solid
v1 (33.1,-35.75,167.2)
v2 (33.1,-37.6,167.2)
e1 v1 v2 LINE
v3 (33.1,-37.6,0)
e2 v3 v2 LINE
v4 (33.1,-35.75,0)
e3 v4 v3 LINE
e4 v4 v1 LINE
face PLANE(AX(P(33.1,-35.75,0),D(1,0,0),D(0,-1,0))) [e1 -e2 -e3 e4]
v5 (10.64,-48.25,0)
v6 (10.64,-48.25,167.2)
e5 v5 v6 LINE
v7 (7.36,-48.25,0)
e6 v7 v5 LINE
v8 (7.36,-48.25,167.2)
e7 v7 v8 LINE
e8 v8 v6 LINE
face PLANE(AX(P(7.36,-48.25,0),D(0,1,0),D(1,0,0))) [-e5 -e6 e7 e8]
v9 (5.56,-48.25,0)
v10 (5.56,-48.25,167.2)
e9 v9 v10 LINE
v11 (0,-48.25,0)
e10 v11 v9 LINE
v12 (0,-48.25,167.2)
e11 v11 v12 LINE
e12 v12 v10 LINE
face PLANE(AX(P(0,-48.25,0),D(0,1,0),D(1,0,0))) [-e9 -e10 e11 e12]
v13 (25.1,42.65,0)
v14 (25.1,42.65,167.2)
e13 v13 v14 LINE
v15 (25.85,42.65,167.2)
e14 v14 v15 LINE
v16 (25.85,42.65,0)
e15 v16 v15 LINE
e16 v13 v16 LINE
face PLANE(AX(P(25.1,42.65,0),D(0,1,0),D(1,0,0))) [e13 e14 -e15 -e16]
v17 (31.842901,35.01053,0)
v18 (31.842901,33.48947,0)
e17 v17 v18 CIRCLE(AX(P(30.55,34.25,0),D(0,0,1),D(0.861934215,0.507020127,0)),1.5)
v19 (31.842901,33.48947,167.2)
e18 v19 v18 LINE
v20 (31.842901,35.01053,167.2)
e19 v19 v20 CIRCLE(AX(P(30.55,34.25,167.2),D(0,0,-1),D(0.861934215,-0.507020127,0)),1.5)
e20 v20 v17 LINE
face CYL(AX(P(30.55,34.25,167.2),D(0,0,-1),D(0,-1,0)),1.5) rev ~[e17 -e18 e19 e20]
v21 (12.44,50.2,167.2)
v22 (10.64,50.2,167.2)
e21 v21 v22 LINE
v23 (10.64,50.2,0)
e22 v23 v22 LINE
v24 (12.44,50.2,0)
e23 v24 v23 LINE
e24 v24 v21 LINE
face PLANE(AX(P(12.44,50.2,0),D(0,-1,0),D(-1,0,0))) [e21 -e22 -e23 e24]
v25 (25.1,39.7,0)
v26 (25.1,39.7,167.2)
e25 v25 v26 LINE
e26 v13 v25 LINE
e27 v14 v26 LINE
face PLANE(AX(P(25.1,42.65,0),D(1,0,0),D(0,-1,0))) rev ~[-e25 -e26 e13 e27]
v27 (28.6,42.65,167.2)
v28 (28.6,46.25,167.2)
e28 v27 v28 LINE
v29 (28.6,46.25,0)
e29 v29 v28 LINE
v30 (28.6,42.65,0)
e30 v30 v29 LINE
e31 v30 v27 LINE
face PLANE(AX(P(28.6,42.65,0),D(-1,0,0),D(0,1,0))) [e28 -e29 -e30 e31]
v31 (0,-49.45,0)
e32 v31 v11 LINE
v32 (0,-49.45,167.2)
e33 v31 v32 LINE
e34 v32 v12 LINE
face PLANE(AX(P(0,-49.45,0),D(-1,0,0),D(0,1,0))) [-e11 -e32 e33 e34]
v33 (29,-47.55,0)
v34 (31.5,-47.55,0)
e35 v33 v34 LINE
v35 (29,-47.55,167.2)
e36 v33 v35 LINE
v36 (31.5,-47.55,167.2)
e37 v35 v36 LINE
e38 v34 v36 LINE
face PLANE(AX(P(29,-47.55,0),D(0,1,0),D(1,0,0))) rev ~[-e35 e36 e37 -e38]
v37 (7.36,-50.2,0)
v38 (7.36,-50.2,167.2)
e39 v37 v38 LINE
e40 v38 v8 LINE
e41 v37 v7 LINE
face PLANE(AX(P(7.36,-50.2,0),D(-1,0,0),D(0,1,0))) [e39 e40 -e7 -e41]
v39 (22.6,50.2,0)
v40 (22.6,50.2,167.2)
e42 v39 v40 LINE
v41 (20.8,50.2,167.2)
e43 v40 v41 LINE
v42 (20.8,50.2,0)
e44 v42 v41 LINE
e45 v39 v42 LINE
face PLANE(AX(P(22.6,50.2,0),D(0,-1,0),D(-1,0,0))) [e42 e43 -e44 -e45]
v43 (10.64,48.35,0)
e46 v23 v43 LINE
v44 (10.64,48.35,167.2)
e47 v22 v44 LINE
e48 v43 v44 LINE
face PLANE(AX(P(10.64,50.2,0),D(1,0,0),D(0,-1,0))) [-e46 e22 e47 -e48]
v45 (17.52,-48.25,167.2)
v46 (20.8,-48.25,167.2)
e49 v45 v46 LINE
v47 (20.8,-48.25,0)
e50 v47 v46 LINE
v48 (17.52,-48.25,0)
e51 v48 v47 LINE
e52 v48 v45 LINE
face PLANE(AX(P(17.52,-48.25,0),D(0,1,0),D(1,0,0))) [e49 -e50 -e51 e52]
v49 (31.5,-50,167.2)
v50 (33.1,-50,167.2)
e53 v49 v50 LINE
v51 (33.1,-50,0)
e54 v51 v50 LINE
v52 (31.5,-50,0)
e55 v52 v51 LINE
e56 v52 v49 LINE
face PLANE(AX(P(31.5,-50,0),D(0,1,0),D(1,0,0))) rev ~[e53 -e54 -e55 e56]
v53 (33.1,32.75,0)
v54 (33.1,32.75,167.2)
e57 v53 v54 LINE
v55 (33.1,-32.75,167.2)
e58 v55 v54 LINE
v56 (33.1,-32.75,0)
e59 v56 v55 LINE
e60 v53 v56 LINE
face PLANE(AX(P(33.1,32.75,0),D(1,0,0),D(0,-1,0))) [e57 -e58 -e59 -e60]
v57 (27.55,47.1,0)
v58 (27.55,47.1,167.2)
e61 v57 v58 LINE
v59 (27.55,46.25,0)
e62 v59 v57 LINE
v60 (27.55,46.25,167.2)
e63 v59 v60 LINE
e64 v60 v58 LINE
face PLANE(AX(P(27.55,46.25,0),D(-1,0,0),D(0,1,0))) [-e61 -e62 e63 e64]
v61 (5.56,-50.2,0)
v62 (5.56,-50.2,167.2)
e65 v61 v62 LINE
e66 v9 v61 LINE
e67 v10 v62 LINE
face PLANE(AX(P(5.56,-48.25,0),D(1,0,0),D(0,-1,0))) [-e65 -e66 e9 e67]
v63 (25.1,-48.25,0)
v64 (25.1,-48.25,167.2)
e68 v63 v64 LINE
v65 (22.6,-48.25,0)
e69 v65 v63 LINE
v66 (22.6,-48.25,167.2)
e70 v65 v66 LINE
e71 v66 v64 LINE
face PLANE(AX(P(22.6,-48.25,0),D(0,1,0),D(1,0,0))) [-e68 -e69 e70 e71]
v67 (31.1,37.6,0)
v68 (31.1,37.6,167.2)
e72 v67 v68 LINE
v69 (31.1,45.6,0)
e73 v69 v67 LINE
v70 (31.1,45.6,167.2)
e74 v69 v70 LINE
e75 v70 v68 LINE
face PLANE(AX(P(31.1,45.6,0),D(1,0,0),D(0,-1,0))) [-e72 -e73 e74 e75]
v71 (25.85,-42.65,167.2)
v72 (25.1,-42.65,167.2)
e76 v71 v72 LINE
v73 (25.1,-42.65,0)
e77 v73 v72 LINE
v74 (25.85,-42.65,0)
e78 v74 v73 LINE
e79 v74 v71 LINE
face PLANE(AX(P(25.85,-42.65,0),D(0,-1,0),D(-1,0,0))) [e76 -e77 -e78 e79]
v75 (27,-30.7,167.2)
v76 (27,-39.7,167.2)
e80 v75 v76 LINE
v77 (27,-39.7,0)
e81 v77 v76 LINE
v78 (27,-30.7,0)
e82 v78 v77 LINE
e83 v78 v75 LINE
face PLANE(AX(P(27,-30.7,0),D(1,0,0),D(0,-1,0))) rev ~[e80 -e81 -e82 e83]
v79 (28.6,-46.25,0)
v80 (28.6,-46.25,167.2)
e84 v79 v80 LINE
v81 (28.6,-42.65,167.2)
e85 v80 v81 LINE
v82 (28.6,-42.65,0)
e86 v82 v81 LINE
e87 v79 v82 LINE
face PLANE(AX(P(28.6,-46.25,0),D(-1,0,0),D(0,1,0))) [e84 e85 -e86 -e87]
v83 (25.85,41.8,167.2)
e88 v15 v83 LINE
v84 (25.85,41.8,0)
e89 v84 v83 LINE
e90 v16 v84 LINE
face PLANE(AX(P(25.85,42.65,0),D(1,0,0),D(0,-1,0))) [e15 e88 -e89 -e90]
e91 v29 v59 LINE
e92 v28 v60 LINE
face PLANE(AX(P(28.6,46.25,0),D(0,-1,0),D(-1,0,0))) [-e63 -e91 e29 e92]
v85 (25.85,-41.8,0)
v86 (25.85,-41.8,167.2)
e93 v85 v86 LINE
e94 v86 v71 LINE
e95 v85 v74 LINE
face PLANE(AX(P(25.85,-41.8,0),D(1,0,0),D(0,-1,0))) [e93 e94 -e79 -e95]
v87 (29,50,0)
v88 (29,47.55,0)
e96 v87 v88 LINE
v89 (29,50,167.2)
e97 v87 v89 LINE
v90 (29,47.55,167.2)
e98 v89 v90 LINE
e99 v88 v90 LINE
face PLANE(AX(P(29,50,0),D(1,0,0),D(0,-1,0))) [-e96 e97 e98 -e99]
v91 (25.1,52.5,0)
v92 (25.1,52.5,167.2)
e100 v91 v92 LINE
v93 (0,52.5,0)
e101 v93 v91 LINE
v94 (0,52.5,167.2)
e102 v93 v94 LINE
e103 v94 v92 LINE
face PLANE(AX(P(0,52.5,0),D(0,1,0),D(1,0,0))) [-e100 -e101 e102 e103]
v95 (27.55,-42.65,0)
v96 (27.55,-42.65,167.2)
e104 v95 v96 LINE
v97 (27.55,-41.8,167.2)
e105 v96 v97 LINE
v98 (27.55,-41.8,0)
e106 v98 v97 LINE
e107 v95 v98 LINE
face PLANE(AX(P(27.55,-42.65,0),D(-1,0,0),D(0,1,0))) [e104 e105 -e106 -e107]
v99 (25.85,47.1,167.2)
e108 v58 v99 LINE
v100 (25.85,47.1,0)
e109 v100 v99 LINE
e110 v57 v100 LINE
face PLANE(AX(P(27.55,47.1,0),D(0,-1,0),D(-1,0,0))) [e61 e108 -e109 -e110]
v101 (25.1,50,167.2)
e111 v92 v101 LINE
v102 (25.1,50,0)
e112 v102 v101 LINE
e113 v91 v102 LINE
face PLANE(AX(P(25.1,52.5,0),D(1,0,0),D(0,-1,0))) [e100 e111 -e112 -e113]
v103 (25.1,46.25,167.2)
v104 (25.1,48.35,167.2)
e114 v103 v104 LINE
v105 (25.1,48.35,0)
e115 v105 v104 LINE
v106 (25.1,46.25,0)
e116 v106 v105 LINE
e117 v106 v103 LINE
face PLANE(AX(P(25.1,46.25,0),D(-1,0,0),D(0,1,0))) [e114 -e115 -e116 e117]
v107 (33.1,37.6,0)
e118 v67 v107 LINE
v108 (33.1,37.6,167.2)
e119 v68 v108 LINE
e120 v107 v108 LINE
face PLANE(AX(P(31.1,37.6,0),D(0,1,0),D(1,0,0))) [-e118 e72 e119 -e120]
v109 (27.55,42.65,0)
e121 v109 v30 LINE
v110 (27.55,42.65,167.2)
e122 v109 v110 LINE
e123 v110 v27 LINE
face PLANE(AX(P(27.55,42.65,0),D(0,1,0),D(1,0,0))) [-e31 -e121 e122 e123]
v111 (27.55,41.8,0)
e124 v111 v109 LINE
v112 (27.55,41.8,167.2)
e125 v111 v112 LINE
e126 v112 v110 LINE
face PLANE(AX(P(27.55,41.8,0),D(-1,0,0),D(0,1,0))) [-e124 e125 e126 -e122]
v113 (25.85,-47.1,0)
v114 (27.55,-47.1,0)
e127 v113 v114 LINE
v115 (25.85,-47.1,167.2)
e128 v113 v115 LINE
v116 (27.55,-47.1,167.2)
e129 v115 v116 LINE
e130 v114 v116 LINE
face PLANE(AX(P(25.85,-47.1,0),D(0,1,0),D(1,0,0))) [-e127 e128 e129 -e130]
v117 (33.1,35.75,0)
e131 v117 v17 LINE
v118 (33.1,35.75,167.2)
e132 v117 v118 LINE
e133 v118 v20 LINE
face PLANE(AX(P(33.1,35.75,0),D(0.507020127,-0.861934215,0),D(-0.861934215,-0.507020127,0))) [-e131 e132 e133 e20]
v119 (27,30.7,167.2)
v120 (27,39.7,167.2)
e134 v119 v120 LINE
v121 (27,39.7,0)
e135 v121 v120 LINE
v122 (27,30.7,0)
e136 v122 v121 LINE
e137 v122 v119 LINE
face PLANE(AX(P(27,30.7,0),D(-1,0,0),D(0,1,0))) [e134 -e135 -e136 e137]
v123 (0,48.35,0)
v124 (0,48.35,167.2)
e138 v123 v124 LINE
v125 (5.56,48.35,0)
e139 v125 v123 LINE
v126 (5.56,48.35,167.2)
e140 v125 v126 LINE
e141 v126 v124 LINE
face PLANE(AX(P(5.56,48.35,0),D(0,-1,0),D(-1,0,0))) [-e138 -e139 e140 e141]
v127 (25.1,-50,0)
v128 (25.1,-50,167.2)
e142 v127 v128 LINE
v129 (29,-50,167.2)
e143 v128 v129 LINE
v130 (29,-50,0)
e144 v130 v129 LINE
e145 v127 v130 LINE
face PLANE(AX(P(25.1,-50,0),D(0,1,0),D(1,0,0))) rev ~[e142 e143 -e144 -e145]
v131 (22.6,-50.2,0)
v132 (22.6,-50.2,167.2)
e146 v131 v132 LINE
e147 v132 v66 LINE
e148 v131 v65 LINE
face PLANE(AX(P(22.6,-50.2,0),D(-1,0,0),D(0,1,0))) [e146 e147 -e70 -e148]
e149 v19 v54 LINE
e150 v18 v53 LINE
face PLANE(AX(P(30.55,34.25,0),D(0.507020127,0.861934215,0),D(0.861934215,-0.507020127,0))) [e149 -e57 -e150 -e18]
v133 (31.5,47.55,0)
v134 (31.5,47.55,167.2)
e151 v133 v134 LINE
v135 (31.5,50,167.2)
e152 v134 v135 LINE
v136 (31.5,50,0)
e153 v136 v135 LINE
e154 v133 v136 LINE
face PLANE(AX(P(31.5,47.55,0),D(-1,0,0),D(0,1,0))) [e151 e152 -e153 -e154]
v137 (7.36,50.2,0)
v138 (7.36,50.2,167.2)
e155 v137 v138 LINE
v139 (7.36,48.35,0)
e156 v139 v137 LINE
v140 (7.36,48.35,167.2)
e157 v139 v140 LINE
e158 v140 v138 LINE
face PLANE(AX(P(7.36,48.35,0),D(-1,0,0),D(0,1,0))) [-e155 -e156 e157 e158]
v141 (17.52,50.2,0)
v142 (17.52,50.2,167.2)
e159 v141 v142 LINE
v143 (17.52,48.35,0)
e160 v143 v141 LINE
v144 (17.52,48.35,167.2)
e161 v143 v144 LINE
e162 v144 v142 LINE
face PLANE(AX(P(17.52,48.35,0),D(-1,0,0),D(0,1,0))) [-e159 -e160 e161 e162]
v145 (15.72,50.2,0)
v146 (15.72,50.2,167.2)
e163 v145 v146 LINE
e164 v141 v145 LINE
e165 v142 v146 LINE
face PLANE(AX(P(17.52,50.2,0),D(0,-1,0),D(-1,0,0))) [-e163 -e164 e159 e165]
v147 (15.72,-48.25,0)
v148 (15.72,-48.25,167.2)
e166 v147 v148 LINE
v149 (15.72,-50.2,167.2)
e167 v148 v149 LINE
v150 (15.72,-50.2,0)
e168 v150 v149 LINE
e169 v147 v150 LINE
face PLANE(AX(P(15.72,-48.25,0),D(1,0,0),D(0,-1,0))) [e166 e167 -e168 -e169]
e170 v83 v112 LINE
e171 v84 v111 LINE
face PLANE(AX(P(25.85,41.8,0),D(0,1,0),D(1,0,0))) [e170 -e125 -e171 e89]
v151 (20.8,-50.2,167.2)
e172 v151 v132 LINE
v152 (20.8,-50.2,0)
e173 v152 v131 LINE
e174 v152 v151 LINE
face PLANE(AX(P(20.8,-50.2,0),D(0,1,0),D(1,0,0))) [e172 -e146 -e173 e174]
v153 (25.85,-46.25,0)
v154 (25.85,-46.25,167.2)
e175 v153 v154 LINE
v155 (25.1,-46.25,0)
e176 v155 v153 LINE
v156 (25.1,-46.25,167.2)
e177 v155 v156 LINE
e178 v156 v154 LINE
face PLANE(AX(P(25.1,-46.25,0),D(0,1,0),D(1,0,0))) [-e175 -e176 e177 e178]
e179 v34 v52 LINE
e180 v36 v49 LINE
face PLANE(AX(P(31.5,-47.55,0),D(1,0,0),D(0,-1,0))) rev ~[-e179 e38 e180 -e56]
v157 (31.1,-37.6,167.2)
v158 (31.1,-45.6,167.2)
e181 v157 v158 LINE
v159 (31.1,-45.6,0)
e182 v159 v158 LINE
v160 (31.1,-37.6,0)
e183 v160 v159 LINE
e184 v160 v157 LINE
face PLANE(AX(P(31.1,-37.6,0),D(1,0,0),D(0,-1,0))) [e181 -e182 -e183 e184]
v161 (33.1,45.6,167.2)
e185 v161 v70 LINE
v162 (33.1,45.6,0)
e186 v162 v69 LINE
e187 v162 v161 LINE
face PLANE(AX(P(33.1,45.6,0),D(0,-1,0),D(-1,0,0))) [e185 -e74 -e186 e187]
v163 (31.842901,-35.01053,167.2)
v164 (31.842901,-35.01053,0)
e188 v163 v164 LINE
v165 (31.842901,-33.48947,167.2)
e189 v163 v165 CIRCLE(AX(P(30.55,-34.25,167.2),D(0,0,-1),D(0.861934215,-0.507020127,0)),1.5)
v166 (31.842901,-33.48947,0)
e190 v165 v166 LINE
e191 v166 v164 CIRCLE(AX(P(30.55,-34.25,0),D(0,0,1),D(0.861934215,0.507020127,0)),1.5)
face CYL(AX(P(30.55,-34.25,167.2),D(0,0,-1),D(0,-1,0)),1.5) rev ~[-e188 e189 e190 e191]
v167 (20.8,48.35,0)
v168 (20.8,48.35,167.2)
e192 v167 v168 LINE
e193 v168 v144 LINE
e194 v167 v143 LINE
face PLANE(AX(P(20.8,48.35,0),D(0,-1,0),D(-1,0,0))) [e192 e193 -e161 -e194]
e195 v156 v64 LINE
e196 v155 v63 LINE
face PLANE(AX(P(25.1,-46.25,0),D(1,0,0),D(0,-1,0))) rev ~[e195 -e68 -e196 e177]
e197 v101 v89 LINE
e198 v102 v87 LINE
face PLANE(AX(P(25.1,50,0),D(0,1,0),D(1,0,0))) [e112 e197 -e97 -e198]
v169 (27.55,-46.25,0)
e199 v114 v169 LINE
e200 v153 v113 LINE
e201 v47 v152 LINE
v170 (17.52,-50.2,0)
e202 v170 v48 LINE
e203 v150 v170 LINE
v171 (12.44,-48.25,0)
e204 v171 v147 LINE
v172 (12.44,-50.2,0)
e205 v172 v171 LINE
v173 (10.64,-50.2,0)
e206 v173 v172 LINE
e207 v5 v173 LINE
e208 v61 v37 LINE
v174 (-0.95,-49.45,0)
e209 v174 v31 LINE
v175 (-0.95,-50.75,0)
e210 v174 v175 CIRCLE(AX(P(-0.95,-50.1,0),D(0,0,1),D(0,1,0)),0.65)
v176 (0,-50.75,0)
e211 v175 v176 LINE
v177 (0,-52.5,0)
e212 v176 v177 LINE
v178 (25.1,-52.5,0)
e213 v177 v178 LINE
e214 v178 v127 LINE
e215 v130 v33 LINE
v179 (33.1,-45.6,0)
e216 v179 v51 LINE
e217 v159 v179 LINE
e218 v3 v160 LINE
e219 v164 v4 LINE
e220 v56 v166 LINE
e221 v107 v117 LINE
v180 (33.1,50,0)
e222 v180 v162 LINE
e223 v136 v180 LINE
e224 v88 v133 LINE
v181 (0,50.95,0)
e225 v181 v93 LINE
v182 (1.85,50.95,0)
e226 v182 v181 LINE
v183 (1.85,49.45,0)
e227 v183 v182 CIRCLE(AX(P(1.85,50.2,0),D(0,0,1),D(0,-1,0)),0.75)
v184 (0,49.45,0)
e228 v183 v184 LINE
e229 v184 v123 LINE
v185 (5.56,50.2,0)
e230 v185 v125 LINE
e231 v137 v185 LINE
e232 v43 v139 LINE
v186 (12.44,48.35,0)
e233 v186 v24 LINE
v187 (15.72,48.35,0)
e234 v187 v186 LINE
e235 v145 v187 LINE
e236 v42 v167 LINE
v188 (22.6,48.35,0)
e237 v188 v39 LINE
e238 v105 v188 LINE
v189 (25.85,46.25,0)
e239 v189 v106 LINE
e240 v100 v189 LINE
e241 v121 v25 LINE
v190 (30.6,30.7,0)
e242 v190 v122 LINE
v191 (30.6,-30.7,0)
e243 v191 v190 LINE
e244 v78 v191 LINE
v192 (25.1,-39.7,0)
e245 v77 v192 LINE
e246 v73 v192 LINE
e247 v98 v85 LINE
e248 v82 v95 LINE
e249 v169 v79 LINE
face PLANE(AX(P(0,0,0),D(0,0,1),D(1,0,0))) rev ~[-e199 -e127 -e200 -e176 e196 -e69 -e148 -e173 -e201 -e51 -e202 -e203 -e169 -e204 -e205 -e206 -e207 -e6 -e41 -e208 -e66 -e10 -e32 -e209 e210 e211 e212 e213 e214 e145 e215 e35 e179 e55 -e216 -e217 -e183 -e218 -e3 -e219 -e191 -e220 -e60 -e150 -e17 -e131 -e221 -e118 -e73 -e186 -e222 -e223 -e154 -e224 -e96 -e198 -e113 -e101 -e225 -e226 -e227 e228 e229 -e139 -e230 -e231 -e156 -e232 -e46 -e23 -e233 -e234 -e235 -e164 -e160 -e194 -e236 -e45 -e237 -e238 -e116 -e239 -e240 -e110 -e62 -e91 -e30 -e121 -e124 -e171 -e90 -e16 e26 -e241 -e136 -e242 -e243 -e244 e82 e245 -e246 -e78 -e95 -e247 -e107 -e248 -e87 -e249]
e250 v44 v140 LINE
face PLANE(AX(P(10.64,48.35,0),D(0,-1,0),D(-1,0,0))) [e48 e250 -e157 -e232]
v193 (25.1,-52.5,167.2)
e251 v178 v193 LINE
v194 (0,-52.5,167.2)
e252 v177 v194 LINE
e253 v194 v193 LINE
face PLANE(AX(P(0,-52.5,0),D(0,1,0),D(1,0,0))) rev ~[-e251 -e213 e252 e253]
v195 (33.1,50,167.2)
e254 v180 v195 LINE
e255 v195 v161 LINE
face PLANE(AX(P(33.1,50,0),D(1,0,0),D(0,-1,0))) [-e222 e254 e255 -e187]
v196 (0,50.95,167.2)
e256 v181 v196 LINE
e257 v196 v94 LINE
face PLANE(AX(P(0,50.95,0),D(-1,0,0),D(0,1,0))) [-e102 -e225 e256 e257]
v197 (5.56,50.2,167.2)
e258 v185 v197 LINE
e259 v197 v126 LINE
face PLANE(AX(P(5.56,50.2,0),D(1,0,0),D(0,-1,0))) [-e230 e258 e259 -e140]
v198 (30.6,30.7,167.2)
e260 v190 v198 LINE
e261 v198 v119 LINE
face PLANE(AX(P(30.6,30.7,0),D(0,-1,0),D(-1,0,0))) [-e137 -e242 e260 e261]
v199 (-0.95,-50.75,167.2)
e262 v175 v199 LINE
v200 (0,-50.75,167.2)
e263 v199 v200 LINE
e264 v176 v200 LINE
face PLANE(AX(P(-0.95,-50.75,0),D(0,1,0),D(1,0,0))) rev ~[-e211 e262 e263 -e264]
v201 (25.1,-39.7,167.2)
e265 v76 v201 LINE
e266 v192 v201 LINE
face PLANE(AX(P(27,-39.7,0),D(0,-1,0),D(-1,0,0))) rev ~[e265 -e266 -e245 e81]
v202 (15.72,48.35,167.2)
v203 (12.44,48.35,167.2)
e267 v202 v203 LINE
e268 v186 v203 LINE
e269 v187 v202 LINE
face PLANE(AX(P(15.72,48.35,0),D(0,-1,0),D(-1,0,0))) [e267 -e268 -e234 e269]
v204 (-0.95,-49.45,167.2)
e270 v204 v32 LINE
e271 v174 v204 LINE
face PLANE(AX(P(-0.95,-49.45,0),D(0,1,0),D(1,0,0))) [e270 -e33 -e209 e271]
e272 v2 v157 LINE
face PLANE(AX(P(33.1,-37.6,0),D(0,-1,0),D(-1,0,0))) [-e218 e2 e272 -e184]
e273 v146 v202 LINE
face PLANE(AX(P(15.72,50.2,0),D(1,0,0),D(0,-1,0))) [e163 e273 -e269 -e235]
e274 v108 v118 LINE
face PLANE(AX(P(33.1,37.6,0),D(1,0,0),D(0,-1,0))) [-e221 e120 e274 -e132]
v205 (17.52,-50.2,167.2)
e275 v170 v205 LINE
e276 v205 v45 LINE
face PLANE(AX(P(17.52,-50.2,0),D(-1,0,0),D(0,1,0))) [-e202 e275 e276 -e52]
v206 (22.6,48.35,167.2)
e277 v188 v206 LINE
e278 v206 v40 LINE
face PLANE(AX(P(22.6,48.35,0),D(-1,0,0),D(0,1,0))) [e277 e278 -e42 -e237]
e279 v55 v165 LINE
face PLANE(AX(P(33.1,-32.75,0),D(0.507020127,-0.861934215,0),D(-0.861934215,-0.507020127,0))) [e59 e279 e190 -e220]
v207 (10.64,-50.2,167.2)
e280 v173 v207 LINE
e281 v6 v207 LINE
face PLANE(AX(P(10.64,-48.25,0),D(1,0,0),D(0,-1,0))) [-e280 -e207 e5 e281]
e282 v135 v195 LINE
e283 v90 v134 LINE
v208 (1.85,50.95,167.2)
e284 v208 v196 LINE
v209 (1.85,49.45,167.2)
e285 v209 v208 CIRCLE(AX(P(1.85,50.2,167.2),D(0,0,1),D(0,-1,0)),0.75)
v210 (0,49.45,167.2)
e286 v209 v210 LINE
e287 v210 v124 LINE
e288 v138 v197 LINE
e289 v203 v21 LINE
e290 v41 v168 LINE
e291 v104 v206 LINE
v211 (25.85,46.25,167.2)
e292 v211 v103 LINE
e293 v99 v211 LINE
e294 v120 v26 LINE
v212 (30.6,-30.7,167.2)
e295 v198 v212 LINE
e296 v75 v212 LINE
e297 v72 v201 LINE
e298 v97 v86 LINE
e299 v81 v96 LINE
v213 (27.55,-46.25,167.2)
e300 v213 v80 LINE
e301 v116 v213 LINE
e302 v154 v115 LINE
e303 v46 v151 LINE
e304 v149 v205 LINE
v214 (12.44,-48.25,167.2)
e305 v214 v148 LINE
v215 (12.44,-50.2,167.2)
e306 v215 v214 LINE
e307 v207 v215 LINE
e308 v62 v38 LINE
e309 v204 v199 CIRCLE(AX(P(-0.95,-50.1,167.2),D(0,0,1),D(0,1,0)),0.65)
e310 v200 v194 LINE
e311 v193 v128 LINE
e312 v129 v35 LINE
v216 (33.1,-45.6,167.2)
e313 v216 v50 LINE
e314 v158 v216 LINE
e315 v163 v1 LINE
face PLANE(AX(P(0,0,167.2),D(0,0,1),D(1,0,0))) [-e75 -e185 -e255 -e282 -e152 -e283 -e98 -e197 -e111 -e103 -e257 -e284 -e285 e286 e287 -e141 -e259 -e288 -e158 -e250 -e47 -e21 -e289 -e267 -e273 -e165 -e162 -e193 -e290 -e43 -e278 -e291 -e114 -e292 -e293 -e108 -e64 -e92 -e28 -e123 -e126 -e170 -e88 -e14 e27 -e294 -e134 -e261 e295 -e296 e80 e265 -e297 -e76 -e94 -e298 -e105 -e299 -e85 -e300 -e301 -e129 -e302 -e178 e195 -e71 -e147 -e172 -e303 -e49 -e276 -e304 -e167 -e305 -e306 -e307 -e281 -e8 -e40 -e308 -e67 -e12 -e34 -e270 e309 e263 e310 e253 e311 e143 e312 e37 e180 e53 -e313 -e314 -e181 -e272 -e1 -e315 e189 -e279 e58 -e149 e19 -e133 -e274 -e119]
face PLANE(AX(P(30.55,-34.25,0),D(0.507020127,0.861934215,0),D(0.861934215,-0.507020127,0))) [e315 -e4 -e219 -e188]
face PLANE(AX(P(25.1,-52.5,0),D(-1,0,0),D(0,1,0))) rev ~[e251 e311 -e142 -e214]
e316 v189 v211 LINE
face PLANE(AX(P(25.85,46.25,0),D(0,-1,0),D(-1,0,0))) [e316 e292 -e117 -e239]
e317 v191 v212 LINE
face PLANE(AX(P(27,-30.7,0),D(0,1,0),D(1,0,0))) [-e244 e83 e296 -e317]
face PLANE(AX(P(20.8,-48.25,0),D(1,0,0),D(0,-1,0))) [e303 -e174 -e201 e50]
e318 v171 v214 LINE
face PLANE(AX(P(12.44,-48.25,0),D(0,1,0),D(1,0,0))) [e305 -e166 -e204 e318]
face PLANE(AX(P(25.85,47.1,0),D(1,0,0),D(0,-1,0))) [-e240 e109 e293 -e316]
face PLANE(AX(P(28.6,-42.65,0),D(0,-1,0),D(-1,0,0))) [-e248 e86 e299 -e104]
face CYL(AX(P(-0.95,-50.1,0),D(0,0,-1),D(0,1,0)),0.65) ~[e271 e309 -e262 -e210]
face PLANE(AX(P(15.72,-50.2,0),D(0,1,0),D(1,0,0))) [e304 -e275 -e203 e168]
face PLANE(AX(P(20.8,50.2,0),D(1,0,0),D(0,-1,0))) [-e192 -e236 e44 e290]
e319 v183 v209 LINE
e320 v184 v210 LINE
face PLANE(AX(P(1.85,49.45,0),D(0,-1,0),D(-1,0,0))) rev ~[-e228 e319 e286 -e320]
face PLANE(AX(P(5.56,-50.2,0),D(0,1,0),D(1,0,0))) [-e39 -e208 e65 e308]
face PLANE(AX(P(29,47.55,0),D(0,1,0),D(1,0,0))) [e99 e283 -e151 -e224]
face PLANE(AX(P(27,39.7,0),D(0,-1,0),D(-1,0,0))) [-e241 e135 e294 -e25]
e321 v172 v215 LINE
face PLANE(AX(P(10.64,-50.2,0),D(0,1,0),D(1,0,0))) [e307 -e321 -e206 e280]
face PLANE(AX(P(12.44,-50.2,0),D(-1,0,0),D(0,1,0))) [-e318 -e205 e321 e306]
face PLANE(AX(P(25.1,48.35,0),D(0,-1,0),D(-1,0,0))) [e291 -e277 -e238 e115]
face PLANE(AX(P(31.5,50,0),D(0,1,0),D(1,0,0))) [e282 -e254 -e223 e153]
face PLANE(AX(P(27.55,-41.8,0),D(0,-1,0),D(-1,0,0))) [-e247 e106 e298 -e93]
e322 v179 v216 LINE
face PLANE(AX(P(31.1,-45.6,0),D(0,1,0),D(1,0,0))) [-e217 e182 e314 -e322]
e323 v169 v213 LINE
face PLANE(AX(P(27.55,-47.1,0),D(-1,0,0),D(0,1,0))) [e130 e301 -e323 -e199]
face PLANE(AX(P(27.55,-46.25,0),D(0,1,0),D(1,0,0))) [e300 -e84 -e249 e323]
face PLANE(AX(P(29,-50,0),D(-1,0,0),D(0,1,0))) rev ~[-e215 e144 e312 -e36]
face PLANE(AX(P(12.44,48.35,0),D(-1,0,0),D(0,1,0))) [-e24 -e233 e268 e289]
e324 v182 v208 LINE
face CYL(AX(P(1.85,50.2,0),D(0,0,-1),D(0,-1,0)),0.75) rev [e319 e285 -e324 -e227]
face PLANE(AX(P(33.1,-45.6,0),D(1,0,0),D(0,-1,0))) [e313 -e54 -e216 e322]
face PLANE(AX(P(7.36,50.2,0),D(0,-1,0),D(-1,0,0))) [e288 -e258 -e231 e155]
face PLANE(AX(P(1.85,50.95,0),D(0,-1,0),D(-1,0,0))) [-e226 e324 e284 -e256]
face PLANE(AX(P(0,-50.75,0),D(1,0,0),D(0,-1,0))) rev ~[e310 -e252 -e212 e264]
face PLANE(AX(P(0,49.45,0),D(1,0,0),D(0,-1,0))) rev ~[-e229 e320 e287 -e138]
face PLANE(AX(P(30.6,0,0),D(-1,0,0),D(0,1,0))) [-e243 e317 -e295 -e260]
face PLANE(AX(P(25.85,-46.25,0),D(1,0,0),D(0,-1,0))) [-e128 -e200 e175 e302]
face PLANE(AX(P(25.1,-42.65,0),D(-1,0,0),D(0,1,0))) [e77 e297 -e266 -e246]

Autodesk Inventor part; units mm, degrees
ref_plane "YZ Plane" through (0, 0, 0) normal (1, 0, 0) x (0, 1, 0)
ref_plane "XZ Plane" through (0, 0, 0) normal (0, 1, 0) x (-1, 0, 0)
ref_plane "XY Plane" through (0, 0, 0) normal (0, 0, 1) x (1, 0, 0)
sketch "Sketch1" plane through (0, 0, 0) normal (0, 0, 1) x (1, 0, 0)
  line L0 (0, 52.5) -> (25.1, 52.5)
  line L1 (33.1, 32.75) -> (33.1, -32.75)
  line L2 (0, -48.25) -> (5.56, -48.25)
  line L3 (27, -30.7) -> (30.6, -30.7)
  line L4 (30.6, -30.7) -> (30.6, 30.7)
  line L5 (30.6, 30.7) -> (27, 30.7)
  line L6 (25.1, 48.35) -> (22.6, 48.35)
  arc A0 (-0.95, -49.45) -> (-0.95, -50.75) centre (-0.95, -50.1) ccw
  line L7 (-0.95, -49.45) -> (0, -49.45)
  line L8 (0, -49.45) -> (0, -48.25)
  line L9 (-0.95, -50.75) -> (0, -50.75)
  line L10 (0, -50.75) -> (0, -52.5)
  line L11 (0, -52.5) -> (25.1, -52.5)
  line L12 (25.1, -52.5) -> (25.1, -50)
  line L13 (25.1, -50) -> (29, -50)
  line L14 (29, -50) -> (29, -47.55)
  line L15 (29, -47.55) -> (31.5, -47.55)
  line L16 (31.5, -47.55) -> (31.5, -50)
  line L17 (31.5, -50) -> (33.1, -50)
  line L18 (25.1, 52.5) -> (25.1, 50)
  line L19 (25.1, 50) -> (29, 50)
  line L20 (29, 50) -> (29, 47.55)
  line L21 (29, 47.55) -> (31.5, 47.55)
  line L22 (31.5, 47.55) -> (31.5, 50)
  line L23 (31.5, 50) -> (33.1, 50)
  arc A1 (1.85, 49.45) -> (1.85, 50.95) centre (1.85, 50.2) ccw
  line L24 (0, 49.45) -> (0, 48.35)
  line L25 (0, 50.95) -> (0, 52.5)
  line L26 (1.85, 50.95) -> (0, 50.95)
  line L27 (1.85, 49.45) -> (0, 49.45)
  line L28 (27, 30.7) -> (27, 39.7)
  line L29 (27, 39.7) -> (25.1, 39.7)
  line L30 (25.1, 46.25) -> (25.1, 48.35)
  line L31 (27, -30.7) -> (27, -39.7)
  line L32 (27, -39.7) -> (25.1, -39.7)
  line L33 (25.1, -46.25) -> (25.1, -48.25)
  line L34 (-8.54, 0) -> (40.04, 0) projected
  line L35 (33.1, 50) -> (33.1, 45.6)
  line L36 (33.1, 45.6) -> (31.1, 45.6)
  line L37 (31.1, 45.6) -> (31.1, 37.6)
  line L38 (31.1, 37.6) -> (33.1, 37.6)
  line L39 (33.1, -37.6) -> (31.1, -37.6)
  line L40 (31.1, -37.6) -> (31.1, -45.6)
  line L41 (31.1, -45.6) -> (33.1, -45.6)
  line L42 (33.1, -45.6) -> (33.1, -50)
  line L43 (33.1, 37.6) -> (33.1, 35.75)
  line L44 (33.1, 35.75) -> (30.55, 34.25)
  line L45 (30.55, 34.25) -> (33.1, 32.75)
  line L46 (33.1, -32.75) -> (30.55, -34.25)
  line L47 (30.55, -34.25) -> (33.1, -35.75)
  line L48 (33.1, -35.75) -> (33.1, -37.6)
  line L49 (22.6, 48.35) -> (22.6, 50.2)
  line L50 (22.6, 50.2) -> (20.8, 50.2)
  line L51 (20.8, 50.2) -> (20.8, 48.35)
  line L52 (20.8, 48.35) -> (17.52, 48.35)
  line L53 (17.52, 48.35) -> (17.52, 50.2)
  line L54 (17.52, 50.2) -> (15.72, 50.2)
  line L55 (15.72, 50.2) -> (15.72, 48.35)
  line L56 (15.72, 48.35) -> (12.44, 48.35)
  line L57 (12.44, 48.35) -> (12.44, 50.2)
  line L58 (12.44, 50.2) -> (10.64, 50.2)
  line L59 (10.64, 50.2) -> (10.64, 48.35)
  line L60 (10.64, 48.35) -> (7.36, 48.35)
  line L61 (7.36, 48.35) -> (7.36, 50.2)
  line L62 (7.36, 50.2) -> (5.56, 50.2)
  line L63 (5.56, 50.2) -> (5.56, 48.35)
  line L64 (5.56, 48.35) -> (0, 48.35)
  line L65 (5.56, -48.25) -> (5.56, -50.2)
  line L66 (5.56, -50.2) -> (7.36, -50.2)
  line L67 (7.36, -50.2) -> (7.36, -48.25)
  line L68 (7.36, -48.25) -> (10.64, -48.25)
  line L69 (10.64, -48.25) -> (10.64, -50.2)
  line L70 (10.64, -50.2) -> (12.44, -50.2)
  line L71 (12.44, -50.2) -> (12.44, -48.25)
  line L72 (12.44, -48.25) -> (15.72, -48.25)
  line L73 (15.72, -48.25) -> (15.72, -50.2)
  line L74 (15.72, -50.2) -> (17.52, -50.2)
  line L75 (17.52, -50.2) -> (17.52, -48.25)
  line L76 (17.52, -48.25) -> (20.8, -48.25)
  line L77 (20.8, -48.25) -> (20.8, -50.2)
  line L78 (20.8, -50.2) -> (22.6, -50.2)
  line L79 (22.6, -50.2) -> (22.6, -48.25)
  line L80 (22.6, -48.25) -> (25.1, -48.25)
  line L81 (25.1, 42.65) -> (25.1, 39.7)
  line L82 (25.1, 42.65) -> (25.85, 42.65)
  line L83 (25.85, 42.65) -> (25.85, 41.8)
  line L84 (25.85, 41.8) -> (27.55, 41.8)
  line L85 (27.55, 41.8) -> (27.55, 42.65)
  line L86 (27.55, 42.65) -> (28.6, 42.65)
  line L87 (28.6, 42.65) -> (28.6, 46.25)
  line L88 (28.6, 46.25) -> (27.55, 46.25)
  line L89 (27.55, 46.25) -> (27.55, 47.1)
  line L90 (27.55, 47.1) -> (25.85, 47.1)
  line L91 (25.85, 47.1) -> (25.85, 46.25)
  line L92 (25.85, 46.25) -> (25.1, 46.25)
  line L93 (25.1, -46.25) -> (25.85, -46.25)
  line L94 (25.85, -46.25) -> (25.85, -47.1)
  line L95 (25.85, -47.1) -> (27.55, -47.1)
  line L96 (27.55, -47.1) -> (27.55, -46.25)
  line L97 (27.55, -46.25) -> (28.6, -46.25)
  line L98 (28.6, -46.25) -> (28.6, -42.65)
  line L99 (28.6, -42.65) -> (27.55, -42.65)
  line L100 (27.55, -42.65) -> (27.55, -41.8)
  line L101 (27.55, -41.8) -> (25.85, -41.8)
  line L102 (25.85, -41.8) -> (25.85, -42.65)
  line L103 (25.85, -42.65) -> (25.1, -42.65)
  line L104 (25.1, -42.65) -> (25.1, -39.7)
  point P0 (0, 0)
  dimension "d7" = 21.8
  dimension "d10" = 0.65
  dimension "d11" = 34.7
  dimension "d14" = 105
  dimension "d16" = 100
  dimension "d17" = 95.1
  dimension "d18" = 2.5
  dimension "d20" = 1.6
  dimension "d24" = 2.5
  dimension "d29" = 96.6
  dimension "d30" = 1.85
  dimension "d31" = 1.5
  dimension "d32" = 100.3
  dimension "d33" = 8
  dimension "d34" = 33.1
  dimension "d35" = 2.6
  dimension "d36" = 12.8
  dimension "d37" = 6.1
  dimension "d49" = 8
  dimension "d50" = 4.4
  dimension "d51" = 4.1
  dimension "d52" = 3
  dimension "d53" = 2.55
  dimension "d55" = 68.5
  dimension "d56" = 1.8
  dimension "d57" = 5.08
  dimension "d58" = 10.5
  dimension "d59" = 4.15
  dimension "d60" = 3.6
  dimension "d61" = 0.75
  dimension "d62" = 1.7
  dimension "d63" = 3.5
  dimension "d64" = 5.3
  dimension "d65" = 94.2
extrude "Extrusion1" add sketch "Sketch1" along normal blind 167.2
sketch "Sketch2" plane through (0, 0, 167.2) normal (0, 0, 1) x (1, 0, 0)
  line L0 (33.1, -50) -> (33.1, 50) projected
  line L1 (-8.54, 0) -> (40.04, 0) projected
  point P0 (0, 0)
  point P1 (30.55, 34.25)
  point P2 (30.55, -34.25)
  dimension "d40" = 2.55
  dimension "d41" = 68.5
hole "Hole1" at (30.55, -34.25, 167.2) at (30.55, 34.25, 167.2) direction (0, 0, -1) diameter 3 end through all
properties part number "Fischer HB"
